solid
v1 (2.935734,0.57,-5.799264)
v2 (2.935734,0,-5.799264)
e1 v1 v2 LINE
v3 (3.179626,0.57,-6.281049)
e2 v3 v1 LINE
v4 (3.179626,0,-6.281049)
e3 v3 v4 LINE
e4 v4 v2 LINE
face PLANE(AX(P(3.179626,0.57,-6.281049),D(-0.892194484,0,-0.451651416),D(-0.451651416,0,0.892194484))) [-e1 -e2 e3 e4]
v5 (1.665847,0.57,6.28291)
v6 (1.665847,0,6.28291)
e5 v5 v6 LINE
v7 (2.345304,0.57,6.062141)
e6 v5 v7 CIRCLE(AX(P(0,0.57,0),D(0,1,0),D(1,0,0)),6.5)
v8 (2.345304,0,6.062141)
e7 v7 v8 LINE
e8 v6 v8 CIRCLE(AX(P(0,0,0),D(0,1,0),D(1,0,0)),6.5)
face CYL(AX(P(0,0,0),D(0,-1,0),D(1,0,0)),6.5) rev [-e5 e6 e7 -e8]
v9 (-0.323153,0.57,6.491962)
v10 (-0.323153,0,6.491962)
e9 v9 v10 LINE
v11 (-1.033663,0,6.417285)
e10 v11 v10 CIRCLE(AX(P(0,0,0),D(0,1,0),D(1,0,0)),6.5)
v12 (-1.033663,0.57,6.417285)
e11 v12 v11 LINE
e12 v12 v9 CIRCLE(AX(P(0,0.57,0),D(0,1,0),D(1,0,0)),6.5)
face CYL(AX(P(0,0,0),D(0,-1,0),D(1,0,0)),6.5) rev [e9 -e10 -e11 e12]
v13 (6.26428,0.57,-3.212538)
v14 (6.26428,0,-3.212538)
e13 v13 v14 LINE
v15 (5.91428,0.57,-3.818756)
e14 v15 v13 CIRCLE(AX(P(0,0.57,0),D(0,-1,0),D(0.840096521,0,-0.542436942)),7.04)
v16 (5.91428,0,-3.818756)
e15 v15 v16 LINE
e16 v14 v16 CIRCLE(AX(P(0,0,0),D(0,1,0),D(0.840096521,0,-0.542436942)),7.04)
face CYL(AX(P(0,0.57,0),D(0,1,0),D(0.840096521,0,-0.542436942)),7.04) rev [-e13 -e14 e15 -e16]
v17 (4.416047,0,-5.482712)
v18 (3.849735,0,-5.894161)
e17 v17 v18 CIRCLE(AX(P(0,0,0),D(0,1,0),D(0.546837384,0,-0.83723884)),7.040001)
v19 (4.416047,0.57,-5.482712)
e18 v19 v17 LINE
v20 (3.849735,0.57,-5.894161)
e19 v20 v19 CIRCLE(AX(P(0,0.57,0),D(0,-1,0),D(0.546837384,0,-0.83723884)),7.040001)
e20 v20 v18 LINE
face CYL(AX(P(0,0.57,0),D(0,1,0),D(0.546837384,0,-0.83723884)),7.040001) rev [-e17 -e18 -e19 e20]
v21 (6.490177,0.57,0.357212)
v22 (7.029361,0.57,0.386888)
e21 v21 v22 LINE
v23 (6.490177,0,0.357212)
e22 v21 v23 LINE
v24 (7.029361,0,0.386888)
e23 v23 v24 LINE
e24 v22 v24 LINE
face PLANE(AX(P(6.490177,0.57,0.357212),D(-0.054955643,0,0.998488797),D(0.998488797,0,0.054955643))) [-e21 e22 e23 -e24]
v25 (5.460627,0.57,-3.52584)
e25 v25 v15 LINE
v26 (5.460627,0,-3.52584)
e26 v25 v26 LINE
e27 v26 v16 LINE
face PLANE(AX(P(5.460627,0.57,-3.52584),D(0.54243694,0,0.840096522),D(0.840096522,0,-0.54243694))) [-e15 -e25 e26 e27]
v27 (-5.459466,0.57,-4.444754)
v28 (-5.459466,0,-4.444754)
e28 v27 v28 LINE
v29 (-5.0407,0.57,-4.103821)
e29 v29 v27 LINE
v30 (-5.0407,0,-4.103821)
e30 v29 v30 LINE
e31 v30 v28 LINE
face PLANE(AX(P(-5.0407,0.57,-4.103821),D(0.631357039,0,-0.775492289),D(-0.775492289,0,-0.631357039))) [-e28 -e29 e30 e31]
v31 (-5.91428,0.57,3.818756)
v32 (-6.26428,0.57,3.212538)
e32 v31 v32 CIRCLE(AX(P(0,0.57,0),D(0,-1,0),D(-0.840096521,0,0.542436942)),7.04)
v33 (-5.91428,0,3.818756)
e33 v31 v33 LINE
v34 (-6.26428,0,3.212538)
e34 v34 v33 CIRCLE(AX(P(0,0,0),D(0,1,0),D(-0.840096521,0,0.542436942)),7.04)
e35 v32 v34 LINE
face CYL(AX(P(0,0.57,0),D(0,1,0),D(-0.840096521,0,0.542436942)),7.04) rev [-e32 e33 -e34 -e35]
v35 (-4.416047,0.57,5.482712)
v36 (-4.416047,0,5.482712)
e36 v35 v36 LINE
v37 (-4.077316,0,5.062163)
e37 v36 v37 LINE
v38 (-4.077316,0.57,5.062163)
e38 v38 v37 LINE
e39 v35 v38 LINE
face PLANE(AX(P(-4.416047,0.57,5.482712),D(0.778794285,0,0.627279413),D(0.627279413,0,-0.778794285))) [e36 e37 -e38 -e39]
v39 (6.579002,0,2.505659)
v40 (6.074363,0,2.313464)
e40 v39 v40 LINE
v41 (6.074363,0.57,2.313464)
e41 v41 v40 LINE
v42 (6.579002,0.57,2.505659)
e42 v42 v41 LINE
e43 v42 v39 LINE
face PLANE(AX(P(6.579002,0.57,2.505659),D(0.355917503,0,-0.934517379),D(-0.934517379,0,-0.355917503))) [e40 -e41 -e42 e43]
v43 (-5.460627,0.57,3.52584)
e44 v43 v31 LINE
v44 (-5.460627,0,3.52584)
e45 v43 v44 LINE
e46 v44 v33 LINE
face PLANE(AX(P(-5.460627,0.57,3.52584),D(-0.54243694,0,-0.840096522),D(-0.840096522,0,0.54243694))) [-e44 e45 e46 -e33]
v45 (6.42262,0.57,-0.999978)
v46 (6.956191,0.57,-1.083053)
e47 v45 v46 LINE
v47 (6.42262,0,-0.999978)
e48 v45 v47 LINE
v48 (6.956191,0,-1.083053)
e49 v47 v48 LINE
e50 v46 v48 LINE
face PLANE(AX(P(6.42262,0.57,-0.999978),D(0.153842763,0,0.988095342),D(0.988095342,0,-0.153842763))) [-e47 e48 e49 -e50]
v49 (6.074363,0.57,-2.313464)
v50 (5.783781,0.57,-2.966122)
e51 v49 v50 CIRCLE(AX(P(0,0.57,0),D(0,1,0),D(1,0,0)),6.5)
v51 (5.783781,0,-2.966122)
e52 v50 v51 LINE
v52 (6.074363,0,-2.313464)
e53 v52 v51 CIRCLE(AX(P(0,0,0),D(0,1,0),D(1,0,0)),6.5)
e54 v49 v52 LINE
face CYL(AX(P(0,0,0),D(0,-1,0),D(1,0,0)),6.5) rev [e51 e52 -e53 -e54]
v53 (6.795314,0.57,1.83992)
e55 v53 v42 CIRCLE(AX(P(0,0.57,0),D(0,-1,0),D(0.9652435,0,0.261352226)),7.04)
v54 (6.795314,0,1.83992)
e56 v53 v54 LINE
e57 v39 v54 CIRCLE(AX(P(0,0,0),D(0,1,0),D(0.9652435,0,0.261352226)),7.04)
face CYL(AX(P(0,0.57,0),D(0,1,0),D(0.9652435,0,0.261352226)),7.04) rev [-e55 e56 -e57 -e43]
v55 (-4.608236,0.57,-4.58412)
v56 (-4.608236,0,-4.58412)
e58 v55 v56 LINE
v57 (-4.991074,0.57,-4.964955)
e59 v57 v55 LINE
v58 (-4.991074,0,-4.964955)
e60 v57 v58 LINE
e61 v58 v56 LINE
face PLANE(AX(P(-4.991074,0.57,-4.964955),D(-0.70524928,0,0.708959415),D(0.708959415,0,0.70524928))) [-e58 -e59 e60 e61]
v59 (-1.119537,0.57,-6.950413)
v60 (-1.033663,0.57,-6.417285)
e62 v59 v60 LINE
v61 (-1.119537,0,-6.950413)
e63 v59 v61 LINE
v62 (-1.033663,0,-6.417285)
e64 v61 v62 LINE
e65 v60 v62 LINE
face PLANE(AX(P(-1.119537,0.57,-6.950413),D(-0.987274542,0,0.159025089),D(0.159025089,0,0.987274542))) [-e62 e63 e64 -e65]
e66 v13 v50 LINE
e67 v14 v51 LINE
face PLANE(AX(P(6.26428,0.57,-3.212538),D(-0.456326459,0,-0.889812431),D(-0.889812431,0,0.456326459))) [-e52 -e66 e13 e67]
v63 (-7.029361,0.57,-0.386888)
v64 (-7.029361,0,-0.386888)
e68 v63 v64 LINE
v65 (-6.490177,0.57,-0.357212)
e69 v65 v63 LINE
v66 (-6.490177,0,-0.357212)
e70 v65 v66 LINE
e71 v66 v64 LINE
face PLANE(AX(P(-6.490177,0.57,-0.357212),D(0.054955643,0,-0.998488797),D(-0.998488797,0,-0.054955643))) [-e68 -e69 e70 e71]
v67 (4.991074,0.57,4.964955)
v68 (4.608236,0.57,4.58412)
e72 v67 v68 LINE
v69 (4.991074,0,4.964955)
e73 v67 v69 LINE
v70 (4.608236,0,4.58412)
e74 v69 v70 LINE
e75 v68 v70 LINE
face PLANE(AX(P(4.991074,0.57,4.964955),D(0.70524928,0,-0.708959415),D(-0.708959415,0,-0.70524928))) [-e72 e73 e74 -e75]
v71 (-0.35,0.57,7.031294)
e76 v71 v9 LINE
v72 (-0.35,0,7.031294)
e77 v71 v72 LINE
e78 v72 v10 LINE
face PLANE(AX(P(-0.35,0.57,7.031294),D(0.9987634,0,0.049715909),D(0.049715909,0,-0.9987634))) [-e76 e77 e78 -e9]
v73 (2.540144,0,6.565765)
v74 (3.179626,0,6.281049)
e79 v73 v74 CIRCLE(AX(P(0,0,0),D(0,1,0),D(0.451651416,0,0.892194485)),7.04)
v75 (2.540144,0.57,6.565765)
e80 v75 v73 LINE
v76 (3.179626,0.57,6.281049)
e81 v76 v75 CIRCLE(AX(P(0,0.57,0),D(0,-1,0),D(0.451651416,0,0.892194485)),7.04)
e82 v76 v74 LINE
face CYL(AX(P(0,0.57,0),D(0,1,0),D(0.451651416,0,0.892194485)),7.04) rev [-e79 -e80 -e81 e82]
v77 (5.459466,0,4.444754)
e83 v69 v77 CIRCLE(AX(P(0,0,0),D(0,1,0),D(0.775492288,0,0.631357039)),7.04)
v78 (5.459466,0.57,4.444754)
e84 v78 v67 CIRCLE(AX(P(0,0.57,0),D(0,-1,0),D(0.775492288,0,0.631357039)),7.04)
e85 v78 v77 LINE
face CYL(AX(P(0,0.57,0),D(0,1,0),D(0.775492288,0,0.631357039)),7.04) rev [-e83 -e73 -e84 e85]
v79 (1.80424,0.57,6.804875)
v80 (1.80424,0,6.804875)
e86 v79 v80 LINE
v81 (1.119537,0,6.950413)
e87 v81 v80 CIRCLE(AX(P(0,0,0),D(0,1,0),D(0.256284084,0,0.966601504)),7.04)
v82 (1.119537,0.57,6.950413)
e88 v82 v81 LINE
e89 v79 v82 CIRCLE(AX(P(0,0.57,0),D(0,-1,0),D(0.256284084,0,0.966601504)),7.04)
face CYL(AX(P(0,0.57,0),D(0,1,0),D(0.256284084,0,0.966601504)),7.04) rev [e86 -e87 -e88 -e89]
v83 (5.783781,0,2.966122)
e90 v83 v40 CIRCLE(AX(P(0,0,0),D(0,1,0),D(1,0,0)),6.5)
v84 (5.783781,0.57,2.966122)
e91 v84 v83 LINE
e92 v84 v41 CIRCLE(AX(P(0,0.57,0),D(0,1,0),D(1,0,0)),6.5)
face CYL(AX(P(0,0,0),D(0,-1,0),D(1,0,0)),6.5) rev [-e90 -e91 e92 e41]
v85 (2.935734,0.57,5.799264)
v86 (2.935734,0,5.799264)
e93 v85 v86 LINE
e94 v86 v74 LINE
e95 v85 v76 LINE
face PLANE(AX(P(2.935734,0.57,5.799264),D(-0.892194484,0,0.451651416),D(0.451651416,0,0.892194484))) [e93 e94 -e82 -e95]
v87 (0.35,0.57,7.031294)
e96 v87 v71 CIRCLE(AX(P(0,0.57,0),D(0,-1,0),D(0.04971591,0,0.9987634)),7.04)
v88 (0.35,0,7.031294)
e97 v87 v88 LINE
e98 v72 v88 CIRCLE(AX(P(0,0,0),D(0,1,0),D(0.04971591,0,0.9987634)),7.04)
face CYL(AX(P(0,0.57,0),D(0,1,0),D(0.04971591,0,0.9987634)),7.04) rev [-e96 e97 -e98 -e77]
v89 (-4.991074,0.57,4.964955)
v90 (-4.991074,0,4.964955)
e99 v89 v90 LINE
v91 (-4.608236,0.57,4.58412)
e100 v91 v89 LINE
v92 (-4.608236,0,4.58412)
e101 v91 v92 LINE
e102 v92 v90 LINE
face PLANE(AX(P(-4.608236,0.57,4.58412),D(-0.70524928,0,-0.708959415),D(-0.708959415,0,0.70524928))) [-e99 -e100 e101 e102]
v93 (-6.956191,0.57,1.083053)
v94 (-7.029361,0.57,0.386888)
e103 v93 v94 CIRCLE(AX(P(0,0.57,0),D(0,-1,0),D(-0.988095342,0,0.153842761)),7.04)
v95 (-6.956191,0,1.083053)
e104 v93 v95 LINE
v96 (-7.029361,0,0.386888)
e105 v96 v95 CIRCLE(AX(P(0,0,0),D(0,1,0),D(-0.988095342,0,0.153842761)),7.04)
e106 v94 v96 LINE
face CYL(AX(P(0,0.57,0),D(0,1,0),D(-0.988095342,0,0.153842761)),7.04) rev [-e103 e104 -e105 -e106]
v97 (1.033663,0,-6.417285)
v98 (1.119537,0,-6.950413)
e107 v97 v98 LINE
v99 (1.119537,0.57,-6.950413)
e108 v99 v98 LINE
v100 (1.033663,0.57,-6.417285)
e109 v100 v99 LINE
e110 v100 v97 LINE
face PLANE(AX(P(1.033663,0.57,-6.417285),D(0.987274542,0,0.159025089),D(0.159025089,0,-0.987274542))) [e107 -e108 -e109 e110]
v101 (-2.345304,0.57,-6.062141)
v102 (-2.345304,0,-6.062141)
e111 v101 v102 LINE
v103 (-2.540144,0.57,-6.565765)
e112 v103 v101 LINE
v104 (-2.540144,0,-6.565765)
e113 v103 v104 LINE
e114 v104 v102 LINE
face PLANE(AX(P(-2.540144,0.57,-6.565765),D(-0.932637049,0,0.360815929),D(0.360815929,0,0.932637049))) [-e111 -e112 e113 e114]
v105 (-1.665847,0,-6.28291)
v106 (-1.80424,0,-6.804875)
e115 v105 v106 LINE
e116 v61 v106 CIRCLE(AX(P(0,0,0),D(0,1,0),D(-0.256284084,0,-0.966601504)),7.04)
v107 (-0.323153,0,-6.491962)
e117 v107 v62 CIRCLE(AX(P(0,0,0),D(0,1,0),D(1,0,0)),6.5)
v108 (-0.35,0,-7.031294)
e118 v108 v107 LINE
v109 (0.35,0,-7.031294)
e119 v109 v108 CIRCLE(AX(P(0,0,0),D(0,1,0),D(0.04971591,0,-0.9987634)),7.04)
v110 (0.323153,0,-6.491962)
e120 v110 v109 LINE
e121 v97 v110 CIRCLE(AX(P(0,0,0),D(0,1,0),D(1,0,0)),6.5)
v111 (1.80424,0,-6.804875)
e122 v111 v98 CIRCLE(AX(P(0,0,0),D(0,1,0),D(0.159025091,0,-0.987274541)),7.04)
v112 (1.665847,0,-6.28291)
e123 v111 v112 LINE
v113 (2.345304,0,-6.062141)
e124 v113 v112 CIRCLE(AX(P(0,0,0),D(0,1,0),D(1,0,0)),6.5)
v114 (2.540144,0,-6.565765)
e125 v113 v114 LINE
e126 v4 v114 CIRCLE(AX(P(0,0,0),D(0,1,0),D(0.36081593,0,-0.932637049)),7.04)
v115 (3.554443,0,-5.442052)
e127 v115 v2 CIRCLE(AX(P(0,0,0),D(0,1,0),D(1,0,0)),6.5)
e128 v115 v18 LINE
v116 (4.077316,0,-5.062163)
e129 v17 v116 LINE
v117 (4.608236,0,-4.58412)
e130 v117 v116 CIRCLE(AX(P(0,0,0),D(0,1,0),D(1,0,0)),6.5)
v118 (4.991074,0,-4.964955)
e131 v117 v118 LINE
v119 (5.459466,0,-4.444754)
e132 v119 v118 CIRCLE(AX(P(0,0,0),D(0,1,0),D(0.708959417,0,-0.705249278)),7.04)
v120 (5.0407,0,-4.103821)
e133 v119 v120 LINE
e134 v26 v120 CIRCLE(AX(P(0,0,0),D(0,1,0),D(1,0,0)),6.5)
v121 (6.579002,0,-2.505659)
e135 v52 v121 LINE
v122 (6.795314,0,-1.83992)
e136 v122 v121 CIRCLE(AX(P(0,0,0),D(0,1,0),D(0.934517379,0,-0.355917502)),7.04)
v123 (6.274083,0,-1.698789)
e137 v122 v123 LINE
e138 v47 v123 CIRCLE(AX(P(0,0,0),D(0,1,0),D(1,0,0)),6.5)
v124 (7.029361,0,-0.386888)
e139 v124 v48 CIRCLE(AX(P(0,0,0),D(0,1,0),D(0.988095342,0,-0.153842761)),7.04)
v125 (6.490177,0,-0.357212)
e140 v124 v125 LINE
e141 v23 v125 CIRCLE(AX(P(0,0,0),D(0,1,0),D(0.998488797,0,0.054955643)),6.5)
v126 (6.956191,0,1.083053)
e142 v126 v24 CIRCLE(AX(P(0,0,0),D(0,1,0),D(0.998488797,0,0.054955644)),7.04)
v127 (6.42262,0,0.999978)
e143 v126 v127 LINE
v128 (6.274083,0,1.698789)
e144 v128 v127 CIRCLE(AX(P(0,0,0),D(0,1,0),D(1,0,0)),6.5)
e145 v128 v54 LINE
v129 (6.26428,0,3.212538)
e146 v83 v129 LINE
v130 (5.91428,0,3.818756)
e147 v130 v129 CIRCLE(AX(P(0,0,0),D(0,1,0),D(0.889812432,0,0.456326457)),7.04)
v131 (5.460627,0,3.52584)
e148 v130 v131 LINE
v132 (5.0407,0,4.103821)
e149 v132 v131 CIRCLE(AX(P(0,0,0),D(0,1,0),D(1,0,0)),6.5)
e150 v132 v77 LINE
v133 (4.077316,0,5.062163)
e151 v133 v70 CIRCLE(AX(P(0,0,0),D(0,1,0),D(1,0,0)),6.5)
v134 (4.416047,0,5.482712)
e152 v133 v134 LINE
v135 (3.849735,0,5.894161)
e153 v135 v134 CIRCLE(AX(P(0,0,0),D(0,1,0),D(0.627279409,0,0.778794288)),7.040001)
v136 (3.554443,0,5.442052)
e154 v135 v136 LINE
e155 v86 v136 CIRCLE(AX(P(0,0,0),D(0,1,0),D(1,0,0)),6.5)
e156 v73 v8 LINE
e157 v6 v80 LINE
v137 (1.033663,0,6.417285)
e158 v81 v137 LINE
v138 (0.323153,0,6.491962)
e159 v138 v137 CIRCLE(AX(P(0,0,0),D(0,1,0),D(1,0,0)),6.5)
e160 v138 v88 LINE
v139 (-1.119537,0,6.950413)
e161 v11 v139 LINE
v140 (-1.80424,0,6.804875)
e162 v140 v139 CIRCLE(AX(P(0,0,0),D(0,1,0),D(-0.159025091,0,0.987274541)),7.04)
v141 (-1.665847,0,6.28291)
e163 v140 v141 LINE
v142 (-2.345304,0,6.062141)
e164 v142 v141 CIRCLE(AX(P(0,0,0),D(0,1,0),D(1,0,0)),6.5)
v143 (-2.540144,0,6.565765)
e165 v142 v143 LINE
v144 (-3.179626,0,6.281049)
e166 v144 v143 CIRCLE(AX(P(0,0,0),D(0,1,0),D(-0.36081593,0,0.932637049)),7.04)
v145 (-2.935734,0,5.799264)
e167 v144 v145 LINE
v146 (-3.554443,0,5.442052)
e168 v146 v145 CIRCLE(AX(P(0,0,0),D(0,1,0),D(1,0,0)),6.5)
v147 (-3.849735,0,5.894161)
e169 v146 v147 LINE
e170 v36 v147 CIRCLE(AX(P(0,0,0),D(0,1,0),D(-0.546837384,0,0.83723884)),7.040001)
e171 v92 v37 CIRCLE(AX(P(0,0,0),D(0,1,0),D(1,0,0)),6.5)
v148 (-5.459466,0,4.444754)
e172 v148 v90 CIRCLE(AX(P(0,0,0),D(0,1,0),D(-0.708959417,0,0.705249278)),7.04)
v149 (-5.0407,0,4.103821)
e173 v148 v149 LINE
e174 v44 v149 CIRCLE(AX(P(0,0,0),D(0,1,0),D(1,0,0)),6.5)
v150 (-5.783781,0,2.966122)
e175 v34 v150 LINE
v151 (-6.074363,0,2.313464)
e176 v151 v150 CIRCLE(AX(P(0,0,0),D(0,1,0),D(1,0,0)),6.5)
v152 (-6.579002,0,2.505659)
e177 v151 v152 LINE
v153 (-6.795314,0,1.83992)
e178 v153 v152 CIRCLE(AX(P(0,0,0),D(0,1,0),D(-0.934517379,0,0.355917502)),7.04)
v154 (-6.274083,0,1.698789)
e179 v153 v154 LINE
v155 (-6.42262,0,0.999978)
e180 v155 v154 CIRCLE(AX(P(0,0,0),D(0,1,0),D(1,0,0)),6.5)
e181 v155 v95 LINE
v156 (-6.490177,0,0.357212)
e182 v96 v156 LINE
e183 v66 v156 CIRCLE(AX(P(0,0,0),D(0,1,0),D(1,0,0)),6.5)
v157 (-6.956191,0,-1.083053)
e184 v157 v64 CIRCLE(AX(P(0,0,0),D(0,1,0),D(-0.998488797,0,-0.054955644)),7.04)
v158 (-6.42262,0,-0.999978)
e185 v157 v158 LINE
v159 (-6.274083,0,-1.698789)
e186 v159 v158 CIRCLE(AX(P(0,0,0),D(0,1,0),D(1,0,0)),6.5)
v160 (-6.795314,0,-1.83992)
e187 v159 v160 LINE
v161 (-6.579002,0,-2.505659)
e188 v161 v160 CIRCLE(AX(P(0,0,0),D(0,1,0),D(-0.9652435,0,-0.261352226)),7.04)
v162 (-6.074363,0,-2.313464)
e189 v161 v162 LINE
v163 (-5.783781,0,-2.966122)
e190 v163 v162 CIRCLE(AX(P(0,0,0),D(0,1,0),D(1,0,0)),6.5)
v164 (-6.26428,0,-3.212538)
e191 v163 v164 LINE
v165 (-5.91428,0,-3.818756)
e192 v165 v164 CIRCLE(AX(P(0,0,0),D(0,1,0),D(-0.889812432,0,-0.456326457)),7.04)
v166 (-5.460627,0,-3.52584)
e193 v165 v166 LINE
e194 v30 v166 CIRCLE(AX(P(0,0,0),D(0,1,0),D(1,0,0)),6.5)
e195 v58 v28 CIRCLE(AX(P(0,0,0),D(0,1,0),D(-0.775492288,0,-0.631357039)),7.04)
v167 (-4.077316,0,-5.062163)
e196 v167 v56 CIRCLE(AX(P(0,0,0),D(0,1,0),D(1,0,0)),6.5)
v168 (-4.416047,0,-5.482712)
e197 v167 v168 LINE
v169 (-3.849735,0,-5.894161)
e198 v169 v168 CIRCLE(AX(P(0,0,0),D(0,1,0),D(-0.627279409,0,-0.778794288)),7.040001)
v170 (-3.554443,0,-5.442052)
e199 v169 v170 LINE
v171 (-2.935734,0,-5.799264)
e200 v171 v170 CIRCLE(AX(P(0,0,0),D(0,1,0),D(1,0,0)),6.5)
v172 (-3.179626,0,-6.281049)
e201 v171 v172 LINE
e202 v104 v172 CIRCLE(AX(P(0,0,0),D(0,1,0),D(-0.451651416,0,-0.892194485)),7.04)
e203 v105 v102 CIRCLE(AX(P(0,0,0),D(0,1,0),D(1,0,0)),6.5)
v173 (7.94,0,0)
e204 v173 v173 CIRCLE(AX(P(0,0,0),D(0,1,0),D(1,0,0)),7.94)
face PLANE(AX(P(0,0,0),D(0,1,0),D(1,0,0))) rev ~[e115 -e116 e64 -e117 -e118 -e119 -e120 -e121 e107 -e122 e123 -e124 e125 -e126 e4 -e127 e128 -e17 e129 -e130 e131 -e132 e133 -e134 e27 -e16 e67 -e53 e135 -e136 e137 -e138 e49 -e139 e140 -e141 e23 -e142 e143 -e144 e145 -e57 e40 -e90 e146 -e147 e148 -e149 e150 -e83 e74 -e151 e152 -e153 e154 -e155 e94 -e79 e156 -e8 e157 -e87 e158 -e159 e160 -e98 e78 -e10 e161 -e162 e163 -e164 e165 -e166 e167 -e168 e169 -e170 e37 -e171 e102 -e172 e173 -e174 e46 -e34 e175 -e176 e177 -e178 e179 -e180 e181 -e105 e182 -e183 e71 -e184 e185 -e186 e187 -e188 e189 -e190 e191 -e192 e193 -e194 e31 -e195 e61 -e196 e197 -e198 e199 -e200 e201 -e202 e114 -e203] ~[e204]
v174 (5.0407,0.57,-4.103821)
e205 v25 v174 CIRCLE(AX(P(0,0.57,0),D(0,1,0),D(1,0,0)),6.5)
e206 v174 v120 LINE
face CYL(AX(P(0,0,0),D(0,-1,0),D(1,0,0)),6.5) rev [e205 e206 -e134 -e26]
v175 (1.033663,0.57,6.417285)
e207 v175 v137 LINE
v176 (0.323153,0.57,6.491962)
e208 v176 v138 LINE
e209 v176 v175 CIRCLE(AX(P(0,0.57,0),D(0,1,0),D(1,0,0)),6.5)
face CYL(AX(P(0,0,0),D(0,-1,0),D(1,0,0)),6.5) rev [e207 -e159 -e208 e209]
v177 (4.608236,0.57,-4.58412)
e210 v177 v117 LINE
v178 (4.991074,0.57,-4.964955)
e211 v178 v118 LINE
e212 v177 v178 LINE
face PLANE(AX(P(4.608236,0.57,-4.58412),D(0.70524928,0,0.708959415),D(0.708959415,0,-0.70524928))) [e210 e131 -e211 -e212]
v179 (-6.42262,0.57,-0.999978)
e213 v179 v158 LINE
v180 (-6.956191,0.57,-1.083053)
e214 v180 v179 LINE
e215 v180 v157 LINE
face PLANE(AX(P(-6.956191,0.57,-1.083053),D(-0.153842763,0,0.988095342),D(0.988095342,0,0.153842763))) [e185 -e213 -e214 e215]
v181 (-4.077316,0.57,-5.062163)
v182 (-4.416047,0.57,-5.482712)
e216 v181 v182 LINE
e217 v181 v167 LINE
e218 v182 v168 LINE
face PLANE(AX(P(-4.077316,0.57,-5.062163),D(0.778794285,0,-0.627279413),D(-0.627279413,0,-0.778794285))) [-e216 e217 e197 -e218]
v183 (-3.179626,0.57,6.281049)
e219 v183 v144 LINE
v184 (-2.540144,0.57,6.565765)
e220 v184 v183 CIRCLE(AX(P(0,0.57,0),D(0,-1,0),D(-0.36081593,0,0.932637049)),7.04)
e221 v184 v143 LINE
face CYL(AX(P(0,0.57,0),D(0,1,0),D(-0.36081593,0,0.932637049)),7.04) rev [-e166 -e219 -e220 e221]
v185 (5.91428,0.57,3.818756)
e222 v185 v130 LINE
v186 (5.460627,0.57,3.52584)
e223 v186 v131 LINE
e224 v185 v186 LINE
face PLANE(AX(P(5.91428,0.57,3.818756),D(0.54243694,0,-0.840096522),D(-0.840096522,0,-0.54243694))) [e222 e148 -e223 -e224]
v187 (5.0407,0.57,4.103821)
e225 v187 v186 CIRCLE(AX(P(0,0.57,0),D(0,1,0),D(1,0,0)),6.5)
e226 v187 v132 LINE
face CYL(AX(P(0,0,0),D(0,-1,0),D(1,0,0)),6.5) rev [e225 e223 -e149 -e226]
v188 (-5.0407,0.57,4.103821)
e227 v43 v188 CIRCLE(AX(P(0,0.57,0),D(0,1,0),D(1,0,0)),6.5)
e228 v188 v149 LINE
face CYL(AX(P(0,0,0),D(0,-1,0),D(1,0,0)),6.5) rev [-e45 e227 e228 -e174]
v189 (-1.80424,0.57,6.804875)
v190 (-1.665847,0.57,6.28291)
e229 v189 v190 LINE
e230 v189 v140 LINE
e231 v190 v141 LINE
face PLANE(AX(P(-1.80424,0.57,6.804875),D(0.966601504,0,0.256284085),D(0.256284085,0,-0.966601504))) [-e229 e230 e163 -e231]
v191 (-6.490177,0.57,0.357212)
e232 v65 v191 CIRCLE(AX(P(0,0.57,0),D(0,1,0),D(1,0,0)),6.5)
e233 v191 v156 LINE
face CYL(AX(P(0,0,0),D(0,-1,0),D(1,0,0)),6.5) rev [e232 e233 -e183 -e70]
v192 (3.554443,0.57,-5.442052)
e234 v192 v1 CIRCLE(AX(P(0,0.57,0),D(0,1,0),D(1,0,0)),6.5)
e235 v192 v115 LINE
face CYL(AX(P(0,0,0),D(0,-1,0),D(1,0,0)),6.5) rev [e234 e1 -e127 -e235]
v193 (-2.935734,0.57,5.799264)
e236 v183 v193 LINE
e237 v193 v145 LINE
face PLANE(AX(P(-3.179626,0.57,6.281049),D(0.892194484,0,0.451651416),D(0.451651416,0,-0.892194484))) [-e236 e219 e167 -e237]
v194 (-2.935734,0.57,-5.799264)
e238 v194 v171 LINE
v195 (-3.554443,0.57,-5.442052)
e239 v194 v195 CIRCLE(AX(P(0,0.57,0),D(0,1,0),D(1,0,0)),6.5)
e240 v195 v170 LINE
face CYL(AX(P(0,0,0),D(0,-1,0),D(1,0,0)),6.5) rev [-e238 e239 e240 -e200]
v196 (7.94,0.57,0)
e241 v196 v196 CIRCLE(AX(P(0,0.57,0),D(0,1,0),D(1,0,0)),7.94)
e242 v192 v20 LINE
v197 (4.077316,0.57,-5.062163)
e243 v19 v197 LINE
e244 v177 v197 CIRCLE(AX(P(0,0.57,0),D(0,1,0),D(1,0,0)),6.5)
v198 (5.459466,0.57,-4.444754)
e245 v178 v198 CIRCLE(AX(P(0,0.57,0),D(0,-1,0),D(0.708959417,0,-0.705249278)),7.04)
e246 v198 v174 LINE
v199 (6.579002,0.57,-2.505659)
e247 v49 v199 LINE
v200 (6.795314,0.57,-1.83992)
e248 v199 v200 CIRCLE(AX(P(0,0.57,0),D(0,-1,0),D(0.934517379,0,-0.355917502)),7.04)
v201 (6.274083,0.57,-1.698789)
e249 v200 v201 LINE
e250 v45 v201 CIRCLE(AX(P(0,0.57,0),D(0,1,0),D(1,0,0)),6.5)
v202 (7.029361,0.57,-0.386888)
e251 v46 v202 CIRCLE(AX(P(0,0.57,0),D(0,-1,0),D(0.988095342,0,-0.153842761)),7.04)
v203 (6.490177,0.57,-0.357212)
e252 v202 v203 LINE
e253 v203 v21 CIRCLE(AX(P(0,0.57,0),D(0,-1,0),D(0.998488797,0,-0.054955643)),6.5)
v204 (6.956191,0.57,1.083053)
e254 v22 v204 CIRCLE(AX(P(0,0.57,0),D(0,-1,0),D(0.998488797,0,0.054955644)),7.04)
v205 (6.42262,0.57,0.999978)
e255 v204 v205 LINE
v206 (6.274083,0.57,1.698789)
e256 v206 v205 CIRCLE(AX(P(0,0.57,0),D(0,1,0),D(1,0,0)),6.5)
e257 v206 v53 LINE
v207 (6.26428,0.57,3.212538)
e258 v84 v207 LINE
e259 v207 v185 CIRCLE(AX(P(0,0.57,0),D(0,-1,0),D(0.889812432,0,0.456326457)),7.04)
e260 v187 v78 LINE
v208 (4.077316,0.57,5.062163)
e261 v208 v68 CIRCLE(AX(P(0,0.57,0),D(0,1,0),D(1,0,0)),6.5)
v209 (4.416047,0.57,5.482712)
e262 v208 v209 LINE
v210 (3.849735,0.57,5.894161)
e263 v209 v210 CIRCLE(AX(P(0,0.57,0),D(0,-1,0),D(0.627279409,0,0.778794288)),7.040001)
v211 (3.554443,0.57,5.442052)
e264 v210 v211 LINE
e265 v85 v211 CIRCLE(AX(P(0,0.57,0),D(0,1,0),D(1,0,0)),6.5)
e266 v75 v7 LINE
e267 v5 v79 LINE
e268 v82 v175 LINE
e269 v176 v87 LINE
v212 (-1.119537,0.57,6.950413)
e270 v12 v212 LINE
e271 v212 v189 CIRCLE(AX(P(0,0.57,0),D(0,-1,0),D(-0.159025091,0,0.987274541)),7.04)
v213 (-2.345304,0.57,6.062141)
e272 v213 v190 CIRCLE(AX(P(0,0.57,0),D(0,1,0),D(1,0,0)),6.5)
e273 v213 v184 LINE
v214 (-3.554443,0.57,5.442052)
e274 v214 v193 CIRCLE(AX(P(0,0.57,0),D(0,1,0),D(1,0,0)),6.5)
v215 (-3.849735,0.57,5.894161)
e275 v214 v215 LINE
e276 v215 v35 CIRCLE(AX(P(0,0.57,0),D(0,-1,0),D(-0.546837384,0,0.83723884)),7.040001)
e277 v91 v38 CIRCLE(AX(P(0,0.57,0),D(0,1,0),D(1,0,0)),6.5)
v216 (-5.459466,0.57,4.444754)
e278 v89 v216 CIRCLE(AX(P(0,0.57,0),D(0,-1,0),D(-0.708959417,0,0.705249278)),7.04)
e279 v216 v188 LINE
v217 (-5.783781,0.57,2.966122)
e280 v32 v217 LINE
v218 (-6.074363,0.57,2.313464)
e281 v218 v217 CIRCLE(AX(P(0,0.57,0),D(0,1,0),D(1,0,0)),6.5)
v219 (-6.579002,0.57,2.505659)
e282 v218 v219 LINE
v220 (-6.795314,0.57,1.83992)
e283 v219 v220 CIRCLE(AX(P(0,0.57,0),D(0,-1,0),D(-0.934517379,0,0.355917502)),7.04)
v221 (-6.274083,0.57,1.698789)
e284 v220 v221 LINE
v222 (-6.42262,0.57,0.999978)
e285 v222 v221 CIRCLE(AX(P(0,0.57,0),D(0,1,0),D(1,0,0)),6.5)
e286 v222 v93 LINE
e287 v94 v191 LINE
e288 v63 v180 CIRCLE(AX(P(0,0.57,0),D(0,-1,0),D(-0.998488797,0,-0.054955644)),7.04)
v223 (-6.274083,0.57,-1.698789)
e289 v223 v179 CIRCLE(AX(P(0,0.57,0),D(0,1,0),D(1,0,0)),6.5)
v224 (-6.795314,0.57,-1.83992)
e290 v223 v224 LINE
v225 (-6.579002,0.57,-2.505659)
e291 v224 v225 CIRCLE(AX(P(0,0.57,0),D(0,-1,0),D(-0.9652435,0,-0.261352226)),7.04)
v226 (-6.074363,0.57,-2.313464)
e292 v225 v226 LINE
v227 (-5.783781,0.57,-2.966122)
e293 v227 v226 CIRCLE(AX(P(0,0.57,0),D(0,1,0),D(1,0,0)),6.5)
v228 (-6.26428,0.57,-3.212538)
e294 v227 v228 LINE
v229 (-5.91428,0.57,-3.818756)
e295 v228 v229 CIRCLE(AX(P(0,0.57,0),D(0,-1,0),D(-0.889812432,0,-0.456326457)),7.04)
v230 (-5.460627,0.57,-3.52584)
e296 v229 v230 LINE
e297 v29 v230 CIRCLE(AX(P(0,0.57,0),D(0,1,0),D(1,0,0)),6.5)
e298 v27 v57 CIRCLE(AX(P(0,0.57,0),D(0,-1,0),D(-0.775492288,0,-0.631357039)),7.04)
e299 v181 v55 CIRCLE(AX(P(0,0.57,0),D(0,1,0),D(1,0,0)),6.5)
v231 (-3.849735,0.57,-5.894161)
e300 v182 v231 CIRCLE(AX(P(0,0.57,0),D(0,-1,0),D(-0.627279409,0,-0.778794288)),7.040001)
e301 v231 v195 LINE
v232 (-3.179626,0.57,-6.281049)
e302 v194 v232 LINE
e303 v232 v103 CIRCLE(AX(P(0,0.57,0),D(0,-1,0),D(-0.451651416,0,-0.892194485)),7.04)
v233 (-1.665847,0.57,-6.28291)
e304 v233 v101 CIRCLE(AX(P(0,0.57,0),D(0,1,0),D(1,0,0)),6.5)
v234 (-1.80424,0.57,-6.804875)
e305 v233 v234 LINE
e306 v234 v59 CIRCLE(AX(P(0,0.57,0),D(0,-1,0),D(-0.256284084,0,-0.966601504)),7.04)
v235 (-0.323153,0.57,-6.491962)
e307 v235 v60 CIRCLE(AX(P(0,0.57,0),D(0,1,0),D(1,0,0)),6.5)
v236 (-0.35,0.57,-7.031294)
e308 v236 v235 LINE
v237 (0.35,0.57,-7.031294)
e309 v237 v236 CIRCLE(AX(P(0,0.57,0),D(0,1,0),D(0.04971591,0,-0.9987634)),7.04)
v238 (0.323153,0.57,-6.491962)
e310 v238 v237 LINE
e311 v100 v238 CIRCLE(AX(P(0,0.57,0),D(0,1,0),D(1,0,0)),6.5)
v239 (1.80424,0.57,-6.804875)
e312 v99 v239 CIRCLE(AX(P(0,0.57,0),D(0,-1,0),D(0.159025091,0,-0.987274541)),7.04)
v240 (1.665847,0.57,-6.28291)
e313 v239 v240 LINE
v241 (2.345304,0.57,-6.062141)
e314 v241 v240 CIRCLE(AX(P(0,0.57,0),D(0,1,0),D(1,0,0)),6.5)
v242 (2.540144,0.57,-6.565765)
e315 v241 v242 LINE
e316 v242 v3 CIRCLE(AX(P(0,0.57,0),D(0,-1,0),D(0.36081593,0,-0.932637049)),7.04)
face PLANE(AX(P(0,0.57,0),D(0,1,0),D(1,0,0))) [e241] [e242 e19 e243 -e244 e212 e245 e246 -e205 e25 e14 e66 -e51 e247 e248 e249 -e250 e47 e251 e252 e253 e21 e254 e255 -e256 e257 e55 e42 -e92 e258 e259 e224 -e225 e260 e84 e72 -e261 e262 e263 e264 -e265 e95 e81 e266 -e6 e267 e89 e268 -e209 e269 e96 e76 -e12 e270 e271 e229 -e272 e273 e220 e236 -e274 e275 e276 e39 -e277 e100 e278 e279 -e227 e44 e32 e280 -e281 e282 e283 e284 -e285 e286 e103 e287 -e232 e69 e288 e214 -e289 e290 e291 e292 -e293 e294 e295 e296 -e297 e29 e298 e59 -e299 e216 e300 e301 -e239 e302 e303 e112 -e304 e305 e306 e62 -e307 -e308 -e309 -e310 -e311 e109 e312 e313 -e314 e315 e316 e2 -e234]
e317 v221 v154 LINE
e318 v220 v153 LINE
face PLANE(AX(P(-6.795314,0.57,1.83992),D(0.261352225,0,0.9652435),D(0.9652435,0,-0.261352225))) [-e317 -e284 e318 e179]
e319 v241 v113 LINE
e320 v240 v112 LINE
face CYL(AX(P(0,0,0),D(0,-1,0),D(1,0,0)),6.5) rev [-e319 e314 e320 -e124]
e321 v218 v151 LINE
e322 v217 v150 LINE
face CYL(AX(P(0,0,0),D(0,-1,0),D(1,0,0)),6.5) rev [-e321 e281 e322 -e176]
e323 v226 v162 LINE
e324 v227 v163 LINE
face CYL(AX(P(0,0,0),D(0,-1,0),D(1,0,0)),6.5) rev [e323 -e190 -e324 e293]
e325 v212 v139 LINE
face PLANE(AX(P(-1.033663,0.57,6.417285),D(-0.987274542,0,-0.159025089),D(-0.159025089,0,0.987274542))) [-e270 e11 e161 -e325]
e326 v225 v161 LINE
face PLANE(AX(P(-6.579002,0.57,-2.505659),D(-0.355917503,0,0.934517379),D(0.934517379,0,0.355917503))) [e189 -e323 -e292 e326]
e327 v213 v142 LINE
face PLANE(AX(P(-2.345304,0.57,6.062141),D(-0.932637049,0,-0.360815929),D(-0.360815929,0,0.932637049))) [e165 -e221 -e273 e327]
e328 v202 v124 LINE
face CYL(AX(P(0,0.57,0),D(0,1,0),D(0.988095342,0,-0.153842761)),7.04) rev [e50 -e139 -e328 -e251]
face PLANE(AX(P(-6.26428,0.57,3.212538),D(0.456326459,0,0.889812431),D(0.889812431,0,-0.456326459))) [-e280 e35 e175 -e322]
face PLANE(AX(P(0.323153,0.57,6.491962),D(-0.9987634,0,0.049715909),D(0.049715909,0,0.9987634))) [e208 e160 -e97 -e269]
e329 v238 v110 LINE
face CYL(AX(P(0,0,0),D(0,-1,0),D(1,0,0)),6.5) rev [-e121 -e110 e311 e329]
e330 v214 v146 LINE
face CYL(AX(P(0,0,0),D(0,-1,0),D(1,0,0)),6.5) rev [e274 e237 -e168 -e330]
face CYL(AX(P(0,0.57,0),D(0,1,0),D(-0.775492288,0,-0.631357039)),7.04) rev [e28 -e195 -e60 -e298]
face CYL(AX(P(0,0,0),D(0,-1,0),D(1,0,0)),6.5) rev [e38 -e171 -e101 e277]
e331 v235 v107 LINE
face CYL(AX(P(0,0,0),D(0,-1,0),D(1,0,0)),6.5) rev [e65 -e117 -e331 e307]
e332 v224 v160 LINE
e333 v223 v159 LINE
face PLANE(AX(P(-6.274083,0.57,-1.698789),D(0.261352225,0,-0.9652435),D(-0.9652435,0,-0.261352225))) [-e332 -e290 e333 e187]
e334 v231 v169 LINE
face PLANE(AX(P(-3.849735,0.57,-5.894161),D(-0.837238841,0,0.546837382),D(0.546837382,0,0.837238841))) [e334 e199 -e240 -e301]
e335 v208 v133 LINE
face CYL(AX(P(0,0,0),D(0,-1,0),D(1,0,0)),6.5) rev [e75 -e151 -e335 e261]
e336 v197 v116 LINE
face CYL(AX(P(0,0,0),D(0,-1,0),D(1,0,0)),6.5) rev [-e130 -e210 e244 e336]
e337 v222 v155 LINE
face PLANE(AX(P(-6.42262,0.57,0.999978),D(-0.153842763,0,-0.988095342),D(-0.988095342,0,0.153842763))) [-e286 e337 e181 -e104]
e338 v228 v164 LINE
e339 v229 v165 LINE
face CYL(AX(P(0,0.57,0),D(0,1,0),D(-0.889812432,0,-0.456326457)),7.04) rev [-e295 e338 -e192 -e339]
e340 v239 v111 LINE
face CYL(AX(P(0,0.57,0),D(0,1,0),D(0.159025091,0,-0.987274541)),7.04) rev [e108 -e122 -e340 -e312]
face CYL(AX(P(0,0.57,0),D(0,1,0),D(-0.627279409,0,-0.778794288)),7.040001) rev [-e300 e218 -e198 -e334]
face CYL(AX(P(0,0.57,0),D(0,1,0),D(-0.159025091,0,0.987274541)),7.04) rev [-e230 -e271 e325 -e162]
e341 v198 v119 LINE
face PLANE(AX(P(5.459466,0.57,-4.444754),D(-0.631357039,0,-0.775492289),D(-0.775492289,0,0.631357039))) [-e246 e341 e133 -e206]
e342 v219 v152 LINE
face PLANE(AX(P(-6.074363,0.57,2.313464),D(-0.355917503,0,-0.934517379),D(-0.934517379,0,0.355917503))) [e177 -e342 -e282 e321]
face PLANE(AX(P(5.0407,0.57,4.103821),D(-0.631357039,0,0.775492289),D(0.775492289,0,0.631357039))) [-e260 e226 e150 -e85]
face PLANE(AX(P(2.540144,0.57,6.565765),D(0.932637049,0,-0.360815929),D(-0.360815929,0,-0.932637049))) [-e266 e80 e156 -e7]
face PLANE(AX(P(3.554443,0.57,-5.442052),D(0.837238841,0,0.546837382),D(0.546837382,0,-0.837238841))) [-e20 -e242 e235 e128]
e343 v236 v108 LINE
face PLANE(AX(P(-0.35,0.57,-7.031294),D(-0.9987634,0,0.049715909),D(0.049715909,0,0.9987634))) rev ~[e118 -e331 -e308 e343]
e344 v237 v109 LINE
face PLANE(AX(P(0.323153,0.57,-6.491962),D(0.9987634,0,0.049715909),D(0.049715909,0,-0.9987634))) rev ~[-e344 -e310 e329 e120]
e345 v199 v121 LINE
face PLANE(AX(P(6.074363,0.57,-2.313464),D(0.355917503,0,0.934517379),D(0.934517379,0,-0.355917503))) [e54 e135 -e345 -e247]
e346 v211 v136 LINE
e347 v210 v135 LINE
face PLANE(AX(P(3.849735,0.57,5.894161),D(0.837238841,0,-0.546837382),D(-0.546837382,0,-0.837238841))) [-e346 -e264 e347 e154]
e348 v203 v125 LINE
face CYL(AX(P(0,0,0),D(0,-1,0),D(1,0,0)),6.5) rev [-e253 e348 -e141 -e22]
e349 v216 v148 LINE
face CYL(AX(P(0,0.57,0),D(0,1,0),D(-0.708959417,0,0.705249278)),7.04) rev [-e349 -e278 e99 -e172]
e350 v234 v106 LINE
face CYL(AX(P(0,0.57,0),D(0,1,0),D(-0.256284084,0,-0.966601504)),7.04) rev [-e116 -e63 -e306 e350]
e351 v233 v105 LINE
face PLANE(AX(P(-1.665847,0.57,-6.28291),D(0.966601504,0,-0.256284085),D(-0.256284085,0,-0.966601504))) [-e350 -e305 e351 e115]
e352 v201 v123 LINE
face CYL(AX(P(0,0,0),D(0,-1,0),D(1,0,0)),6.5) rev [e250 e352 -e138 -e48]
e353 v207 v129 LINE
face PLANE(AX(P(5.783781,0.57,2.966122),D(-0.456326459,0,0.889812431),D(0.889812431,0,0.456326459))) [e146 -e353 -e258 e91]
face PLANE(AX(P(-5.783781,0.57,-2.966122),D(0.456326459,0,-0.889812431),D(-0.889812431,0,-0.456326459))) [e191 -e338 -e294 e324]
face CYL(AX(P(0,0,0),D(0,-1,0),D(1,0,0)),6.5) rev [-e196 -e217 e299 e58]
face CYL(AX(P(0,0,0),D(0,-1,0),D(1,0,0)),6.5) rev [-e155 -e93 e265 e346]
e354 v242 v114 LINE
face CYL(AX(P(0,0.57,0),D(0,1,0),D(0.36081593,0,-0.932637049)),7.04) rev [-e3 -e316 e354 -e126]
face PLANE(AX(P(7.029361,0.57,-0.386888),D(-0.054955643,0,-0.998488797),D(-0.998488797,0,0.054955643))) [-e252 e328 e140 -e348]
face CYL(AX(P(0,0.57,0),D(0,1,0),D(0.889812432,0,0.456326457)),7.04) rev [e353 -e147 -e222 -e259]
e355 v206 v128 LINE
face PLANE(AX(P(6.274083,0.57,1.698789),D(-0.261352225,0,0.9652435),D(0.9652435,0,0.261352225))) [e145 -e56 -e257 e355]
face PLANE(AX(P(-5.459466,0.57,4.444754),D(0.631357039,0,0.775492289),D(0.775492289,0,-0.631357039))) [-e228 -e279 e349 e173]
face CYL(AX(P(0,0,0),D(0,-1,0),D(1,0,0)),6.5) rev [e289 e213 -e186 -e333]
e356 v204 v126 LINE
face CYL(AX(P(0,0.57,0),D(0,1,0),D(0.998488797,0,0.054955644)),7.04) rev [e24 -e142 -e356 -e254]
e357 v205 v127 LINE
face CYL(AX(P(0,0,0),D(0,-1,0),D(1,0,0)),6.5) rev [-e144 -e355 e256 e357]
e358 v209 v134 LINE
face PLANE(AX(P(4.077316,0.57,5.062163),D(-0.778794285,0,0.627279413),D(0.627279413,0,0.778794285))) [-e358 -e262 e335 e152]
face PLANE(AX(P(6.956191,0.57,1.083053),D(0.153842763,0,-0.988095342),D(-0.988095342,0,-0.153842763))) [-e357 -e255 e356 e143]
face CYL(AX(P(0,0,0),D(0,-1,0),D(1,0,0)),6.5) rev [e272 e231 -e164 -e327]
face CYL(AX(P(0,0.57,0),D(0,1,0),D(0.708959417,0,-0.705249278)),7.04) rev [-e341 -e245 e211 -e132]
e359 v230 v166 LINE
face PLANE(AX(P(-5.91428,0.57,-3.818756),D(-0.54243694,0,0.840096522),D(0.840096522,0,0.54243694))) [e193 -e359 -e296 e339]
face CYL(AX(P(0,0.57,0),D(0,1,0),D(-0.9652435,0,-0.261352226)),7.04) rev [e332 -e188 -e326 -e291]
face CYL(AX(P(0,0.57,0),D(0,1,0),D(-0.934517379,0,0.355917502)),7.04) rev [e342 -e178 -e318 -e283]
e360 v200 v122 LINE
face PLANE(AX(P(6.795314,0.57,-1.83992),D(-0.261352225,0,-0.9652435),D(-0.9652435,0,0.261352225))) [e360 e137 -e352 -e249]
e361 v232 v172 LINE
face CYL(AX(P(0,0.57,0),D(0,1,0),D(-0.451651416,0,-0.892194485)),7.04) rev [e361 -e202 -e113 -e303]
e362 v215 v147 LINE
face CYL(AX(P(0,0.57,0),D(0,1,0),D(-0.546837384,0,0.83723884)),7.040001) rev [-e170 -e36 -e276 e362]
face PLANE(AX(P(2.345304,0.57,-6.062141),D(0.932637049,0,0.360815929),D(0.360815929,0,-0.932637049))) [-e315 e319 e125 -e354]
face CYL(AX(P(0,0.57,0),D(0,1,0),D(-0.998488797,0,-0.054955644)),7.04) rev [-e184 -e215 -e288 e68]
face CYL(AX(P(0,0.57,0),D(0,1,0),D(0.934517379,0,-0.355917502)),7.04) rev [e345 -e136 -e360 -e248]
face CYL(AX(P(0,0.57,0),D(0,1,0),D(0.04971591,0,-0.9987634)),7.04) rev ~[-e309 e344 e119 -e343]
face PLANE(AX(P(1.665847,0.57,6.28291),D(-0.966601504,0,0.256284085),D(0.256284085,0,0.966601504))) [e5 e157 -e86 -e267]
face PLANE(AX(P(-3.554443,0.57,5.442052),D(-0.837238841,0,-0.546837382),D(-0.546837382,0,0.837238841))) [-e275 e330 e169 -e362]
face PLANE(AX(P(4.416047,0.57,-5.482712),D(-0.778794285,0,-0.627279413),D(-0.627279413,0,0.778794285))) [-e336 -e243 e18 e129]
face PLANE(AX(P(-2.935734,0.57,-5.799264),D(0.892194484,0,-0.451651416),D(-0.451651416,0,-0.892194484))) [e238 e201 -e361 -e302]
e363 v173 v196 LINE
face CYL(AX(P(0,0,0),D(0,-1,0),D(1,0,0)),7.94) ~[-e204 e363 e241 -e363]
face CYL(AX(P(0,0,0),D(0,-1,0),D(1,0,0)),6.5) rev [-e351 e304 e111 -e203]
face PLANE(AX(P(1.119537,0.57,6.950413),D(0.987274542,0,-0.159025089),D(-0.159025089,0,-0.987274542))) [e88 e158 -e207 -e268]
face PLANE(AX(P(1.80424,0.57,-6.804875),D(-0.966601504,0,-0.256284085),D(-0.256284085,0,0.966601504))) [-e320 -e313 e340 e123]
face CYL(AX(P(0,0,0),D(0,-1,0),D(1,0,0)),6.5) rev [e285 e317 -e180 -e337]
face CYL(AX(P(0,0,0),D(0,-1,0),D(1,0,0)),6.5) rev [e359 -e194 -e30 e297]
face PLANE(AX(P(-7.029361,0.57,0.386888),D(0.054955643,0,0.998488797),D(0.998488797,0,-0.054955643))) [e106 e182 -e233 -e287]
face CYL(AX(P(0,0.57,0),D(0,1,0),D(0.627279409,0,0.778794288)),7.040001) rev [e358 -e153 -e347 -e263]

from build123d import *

# Parameters (mm, degrees)
SKETCH1_R           = 7.94
SKETCH1_R_2         = 6.5
BOSS_EXTRUDE1_DEPTH = 0.57
CUT_EXTRUDE1_DEPTH  = 1.57


with BuildPart() as part:
    # Sketch1 → Boss-Extrude1 (new body)
    with BuildSketch(Plane(origin=(0, 0, 0), x_dir=(1, 0, 0), z_dir=(0, 1, 0))):
        Circle(SKETCH1_R)
        Circle(SKETCH1_R_2, mode=Mode.SUBTRACT)
    extrude(amount=BOSS_EXTRUDE1_DEPTH)

    # Sketch2 → Cut-Extrude1 (cut, through all)
    with BuildSketch(Plane(origin=(0, 0.57, 0), x_dir=(1, 0, 0), z_dir=(0, 1, 0))):
        with BuildLine():
            Line((-0.35, 7.031294333), (-0.323153409, 6.491962097))
            ThreePointArc((-0.323153409, 6.491962097), (0, 6.5), (0.323153409, 6.491962097))
            Line((0.323153409, 6.491962097), (0.35, 7.031294333))
            ThreePointArc((0.35, 7.031294333), (0, 7.04), (-0.35, 7.031294333))
        make_face()
        with BuildLine():
            Line((1.804239954, 6.80487459), (1.665846548, 6.282909778))
            ThreePointArc((1.665846548, 6.282909778), (1.35142599, 6.357959405), (1.033663085, 6.417284521))
            Line((1.033663085, 6.417284521), (1.119536633, 6.950412774))
            ThreePointArc((1.119536633, 6.950412774), (1.463698303, 6.886159109), (1.804239954, 6.80487459))
        make_face()
        with BuildLine():
            Line((3.179625964, 6.281049174), (2.935734199, 5.799264152))
            ThreePointArc((2.935734199, 5.799264152), (2.64378818, 5.938045475), (2.345303541, 6.062140818))
            Line((2.345303541, 6.062140818), (2.540144143, 6.565764825))
            ThreePointArc((2.540144143, 6.565764825), (2.863425967, 6.431360022), (3.179625964, 6.281049174))
        make_face()
        with BuildLine():
            Line((4.416047062, 5.48271177), (4.077316179, 5.062162856))
            ThreePointArc((4.077316179, 5.062162856), (3.82060414, 5.258610463), (3.55444298, 5.442052472))
            Line((3.55444298, 5.442052472), (3.849735166, 5.894161446))
            ThreePointArc((3.849735166, 5.894161446), (4.138008176, 5.69547964), (4.416047062, 5.48271177))
        make_face()
        with BuildLine():
            Line((5.459465712, 4.444753552), (5.040699876, 4.103820751))
            ThreePointArc((5.040699876, 4.103820751), (4.830441366, 4.349348941), (4.608236203, 4.584120318))
            Line((4.608236203, 4.584120318), (4.991074288, 4.96495493))
            ThreePointArc((4.991074288, 4.96495493), (5.231739571, 4.710679469), (5.459465712, 4.444753552))
        make_face()
        with BuildLine():
            Line((6.264279514, 3.212538275), (5.783780801, 2.966121987))
            ThreePointArc((5.783780801, 2.966121987), (5.629165125, 3.25), (5.460627392, 3.52584011))
            Line((5.460627392, 3.52584011), (5.914279514, 3.818756058))
            ThreePointArc((5.914279514, 3.818756058), (6.096818843, 3.52), (6.264279514, 3.212538275))
        make_face()
        with BuildLine():
            Line((6.795314242, 1.839919661), (6.274082751, 1.698789459))
            ThreePointArc((6.274082751, 1.698789459), (6.181867356, 2.008610463), (6.074362961, 2.31346377))
            Line((6.074362961, 2.31346377), (6.579002346, 2.505659222))
            ThreePointArc((6.579002346, 2.505659222), (6.695437875, 2.17547964), (6.795314242, 1.839919661))
        make_face()
        with BuildLine():
            Line((7.029361129, 0.386887728), (6.490177179, 0.357211681))
            ThreePointArc((6.490177179, 0.357211681), (6.46439232, 0.679435011), (6.422619721, 0.999977963))
            Line((6.422619721, 0.999977963), (6.956191205, 1.083053055))
            ThreePointArc((6.956191205, 1.083053055), (7.001434143, 0.735880381), (7.029361129, 0.386887728))
        make_face()
        with BuildLine():
            Line((6.956191205, -1.083053055), (6.422619721, -0.999977963))
            ThreePointArc((6.422619721, -0.999977963), (6.46439232, -0.679435011), (6.490177179, -0.357211681))
            Line((6.490177179, -0.357211681), (7.029361129, -0.386887728))
            ThreePointArc((7.029361129, -0.386887728), (7.001434143, -0.735880381), (6.956191205, -1.083053055))
        make_face()
        with BuildLine():
            Line((6.579002346, -2.505659222), (6.074362961, -2.31346377))
            ThreePointArc((6.074362961, -2.31346377), (6.181867356, -2.008610463), (6.274082751, -1.698789459))
            Line((6.274082751, -1.698789459), (6.795314242, -1.839919661))
            ThreePointArc((6.795314242, -1.839919661), (6.695437875, -2.17547964), (6.579002346, -2.505659222))
        make_face()
        with BuildLine():
            Line((5.914279514, -3.818756058), (5.460627392, -3.52584011))
            ThreePointArc((5.460627392, -3.52584011), (5.629165125, -3.25), (5.783780801, -2.966121987))
            Line((5.783780801, -2.966121987), (6.264279514, -3.212538275))
            ThreePointArc((6.264279514, -3.212538275), (6.096818843, -3.52), (5.914279514, -3.818756058))
        make_face()
        with BuildLine():
            Line((4.991074288, -4.96495493), (4.608236203, -4.584120318))
            ThreePointArc((4.608236203, -4.584120318), (4.830441366, -4.349348941), (5.040699876, -4.103820751))
            Line((5.040699876, -4.103820751), (5.459465712, -4.444753552))
            ThreePointArc((5.459465712, -4.444753552), (5.231739571, -4.710679469), (4.991074288, -4.96495493))
        make_face()
        with BuildLine():
            Line((3.849735166, -5.894161446), (3.55444298, -5.442052472))
            ThreePointArc((3.55444298, -5.442052472), (3.82060414, -5.258610463), (4.077316179, -5.062162856))
            Line((4.077316179, -5.062162856), (4.416047062, -5.48271177))
            ThreePointArc((4.416047062, -5.48271177), (4.138008176, -5.69547964), (3.849735166, -5.894161446))
        make_face()
        with BuildLine():
            Line((2.540144143, -6.565764825), (2.345303541, -6.062140818))
            ThreePointArc((2.345303541, -6.062140818), (2.64378818, -5.938045475), (2.935734199, -5.799264152))
            Line((2.935734199, -5.799264152), (3.179625964, -6.281049174))
            ThreePointArc((3.179625964, -6.281049174), (2.863425967, -6.431360022), (2.540144143, -6.565764825))
        make_face()
        with BuildLine():
            Line((1.119536633, -6.950412774), (1.033663085, -6.417284521))
            ThreePointArc((1.033663085, -6.417284521), (1.35142599, -6.357959405), (1.665846548, -6.282909778))
            Line((1.665846548, -6.282909778), (1.804239954, -6.80487459))
            ThreePointArc((1.804239954, -6.80487459), (1.463698303, -6.886159109), (1.119536633, -6.950412774))
        make_face()
        with BuildLine():
            Line((-0.35, -7.031294333), (-0.323153409, -6.491962097))
            ThreePointArc((-0.323153409, -6.491962097), (0, -6.5), (0.323153409, -6.491962097))
            Line((0.323153409, -6.491962097), (0.35, -7.031294333))
            ThreePointArc((0.35, -7.031294333), (0, -7.04), (-0.35, -7.031294333))
        make_face()
        with BuildLine():
            Line((-1.804239954, -6.80487459), (-1.665846548, -6.282909778))
            ThreePointArc((-1.665846548, -6.282909778), (-1.35142599, -6.357959405), (-1.033663085, -6.417284521))
            Line((-1.033663085, -6.417284521), (-1.119536633, -6.950412774))
            ThreePointArc((-1.119536633, -6.950412774), (-1.463698303, -6.886159109), (-1.804239954, -6.80487459))
        make_face()
        with BuildLine():
            Line((-3.179625964, -6.281049174), (-2.935734199, -5.799264152))
            ThreePointArc((-2.935734199, -5.799264152), (-2.64378818, -5.938045475), (-2.345303541, -6.062140818))
            Line((-2.345303541, -6.062140818), (-2.540144143, -6.565764825))
            ThreePointArc((-2.540144143, -6.565764825), (-2.863425967, -6.431360022), (-3.179625964, -6.281049174))
        make_face()
        with BuildLine():
            Line((-4.416047062, -5.48271177), (-4.077316179, -5.062162856))
            ThreePointArc((-4.077316179, -5.062162856), (-3.82060414, -5.258610463), (-3.55444298, -5.442052472))
            Line((-3.55444298, -5.442052472), (-3.849735166, -5.894161446))
            ThreePointArc((-3.849735166, -5.894161446), (-4.138008176, -5.69547964), (-4.416047062, -5.48271177))
        make_face()
        with BuildLine():
            Line((-5.459465712, -4.444753552), (-5.040699876, -4.103820751))
            ThreePointArc((-5.040699876, -4.103820751), (-4.830441366, -4.349348941), (-4.608236203, -4.584120318))
            Line((-4.608236203, -4.584120318), (-4.991074288, -4.96495493))
            ThreePointArc((-4.991074288, -4.96495493), (-5.231739571, -4.710679469), (-5.459465712, -4.444753552))
        make_face()
        with BuildLine():
            Line((-6.264279514, -3.212538275), (-5.783780801, -2.966121987))
            ThreePointArc((-5.783780801, -2.966121987), (-5.629165125, -3.25), (-5.460627392, -3.52584011))
            Line((-5.460627392, -3.52584011), (-5.914279514, -3.818756058))
            ThreePointArc((-5.914279514, -3.818756058), (-6.096818843, -3.52), (-6.264279514, -3.212538275))
        make_face()
        with BuildLine():
            Line((-6.795314242, -1.839919661), (-6.274082751, -1.698789459))
            ThreePointArc((-6.274082751, -1.698789459), (-6.181867356, -2.008610463), (-6.074362961, -2.31346377))
            Line((-6.074362961, -2.31346377), (-6.579002346, -2.505659222))
            ThreePointArc((-6.579002346, -2.505659222), (-6.695437875, -2.17547964), (-6.795314242, -1.839919661))
        make_face()
        with BuildLine():
            Line((-7.029361129, -0.386887728), (-6.490177179, -0.357211681))
            ThreePointArc((-6.490177179, -0.357211681), (-6.46439232, -0.679435011), (-6.422619721, -0.999977963))
            Line((-6.422619721, -0.999977963), (-6.956191205, -1.083053055))
            ThreePointArc((-6.956191205, -1.083053055), (-7.001434143, -0.735880381), (-7.029361129, -0.386887728))
        make_face()
        with BuildLine():
            Line((-6.956191205, 1.083053055), (-6.422619721, 0.999977963))
            ThreePointArc((-6.422619721, 0.999977963), (-6.46439232, 0.679435011), (-6.490177179, 0.357211681))
            Line((-6.490177179, 0.357211681), (-7.029361129, 0.386887728))
            ThreePointArc((-7.029361129, 0.386887728), (-7.001434143, 0.735880381), (-6.956191205, 1.083053055))
        make_face()
        with BuildLine():
            Line((-6.579002346, 2.505659222), (-6.074362961, 2.31346377))
            ThreePointArc((-6.074362961, 2.31346377), (-6.181867356, 2.008610463), (-6.274082751, 1.698789459))
            Line((-6.274082751, 1.698789459), (-6.795314242, 1.839919661))
            ThreePointArc((-6.795314242, 1.839919661), (-6.695437875, 2.17547964), (-6.579002346, 2.505659222))
        make_face()
        with BuildLine():
            Line((-5.914279514, 3.818756058), (-5.460627392, 3.52584011))
            ThreePointArc((-5.460627392, 3.52584011), (-5.629165125, 3.25), (-5.783780801, 2.966121987))
            Line((-5.783780801, 2.966121987), (-6.264279514, 3.212538275))
            ThreePointArc((-6.264279514, 3.212538275), (-6.096818843, 3.52), (-5.914279514, 3.818756058))
        make_face()
        with BuildLine():
            Line((-4.991074288, 4.96495493), (-4.608236203, 4.584120318))
            ThreePointArc((-4.608236203, 4.584120318), (-4.830441366, 4.349348941), (-5.040699876, 4.103820751))
            Line((-5.040699876, 4.103820751), (-5.459465712, 4.444753552))
            ThreePointArc((-5.459465712, 4.444753552), (-5.231739571, 4.710679469), (-4.991074288, 4.96495493))
        make_face()
        with BuildLine():
            Line((-3.849735166, 5.894161446), (-3.55444298, 5.442052472))
            ThreePointArc((-3.55444298, 5.442052472), (-3.82060414, 5.258610463), (-4.077316179, 5.062162856))
            Line((-4.077316179, 5.062162856), (-4.416047062, 5.48271177))
            ThreePointArc((-4.416047062, 5.48271177), (-4.138008176, 5.69547964), (-3.849735166, 5.894161446))
        make_face()
        with BuildLine():
            Line((-2.540144143, 6.565764825), (-2.345303541, 6.062140818))
            ThreePointArc((-2.345303541, 6.062140818), (-2.64378818, 5.938045475), (-2.935734199, 5.799264152))
            Line((-2.935734199, 5.799264152), (-3.179625964, 6.281049174))
            ThreePointArc((-3.179625964, 6.281049174), (-2.863425967, 6.431360022), (-2.540144143, 6.565764825))
        make_face()
        with BuildLine():
            Line((-1.119536633, 6.950412774), (-1.033663085, 6.417284521))
            ThreePointArc((-1.033663085, 6.417284521), (-1.35142599, 6.357959405), (-1.665846548, 6.282909778))
            Line((-1.665846548, 6.282909778), (-1.804239954, 6.80487459))
            ThreePointArc((-1.804239954, 6.80487459), (-1.463698303, 6.886159109), (-1.119536633, 6.950412774))
        make_face()
    extrude(amount=-CUT_EXTRUDE1_DEPTH, mode=Mode.SUBTRACT)


solid = part.part
